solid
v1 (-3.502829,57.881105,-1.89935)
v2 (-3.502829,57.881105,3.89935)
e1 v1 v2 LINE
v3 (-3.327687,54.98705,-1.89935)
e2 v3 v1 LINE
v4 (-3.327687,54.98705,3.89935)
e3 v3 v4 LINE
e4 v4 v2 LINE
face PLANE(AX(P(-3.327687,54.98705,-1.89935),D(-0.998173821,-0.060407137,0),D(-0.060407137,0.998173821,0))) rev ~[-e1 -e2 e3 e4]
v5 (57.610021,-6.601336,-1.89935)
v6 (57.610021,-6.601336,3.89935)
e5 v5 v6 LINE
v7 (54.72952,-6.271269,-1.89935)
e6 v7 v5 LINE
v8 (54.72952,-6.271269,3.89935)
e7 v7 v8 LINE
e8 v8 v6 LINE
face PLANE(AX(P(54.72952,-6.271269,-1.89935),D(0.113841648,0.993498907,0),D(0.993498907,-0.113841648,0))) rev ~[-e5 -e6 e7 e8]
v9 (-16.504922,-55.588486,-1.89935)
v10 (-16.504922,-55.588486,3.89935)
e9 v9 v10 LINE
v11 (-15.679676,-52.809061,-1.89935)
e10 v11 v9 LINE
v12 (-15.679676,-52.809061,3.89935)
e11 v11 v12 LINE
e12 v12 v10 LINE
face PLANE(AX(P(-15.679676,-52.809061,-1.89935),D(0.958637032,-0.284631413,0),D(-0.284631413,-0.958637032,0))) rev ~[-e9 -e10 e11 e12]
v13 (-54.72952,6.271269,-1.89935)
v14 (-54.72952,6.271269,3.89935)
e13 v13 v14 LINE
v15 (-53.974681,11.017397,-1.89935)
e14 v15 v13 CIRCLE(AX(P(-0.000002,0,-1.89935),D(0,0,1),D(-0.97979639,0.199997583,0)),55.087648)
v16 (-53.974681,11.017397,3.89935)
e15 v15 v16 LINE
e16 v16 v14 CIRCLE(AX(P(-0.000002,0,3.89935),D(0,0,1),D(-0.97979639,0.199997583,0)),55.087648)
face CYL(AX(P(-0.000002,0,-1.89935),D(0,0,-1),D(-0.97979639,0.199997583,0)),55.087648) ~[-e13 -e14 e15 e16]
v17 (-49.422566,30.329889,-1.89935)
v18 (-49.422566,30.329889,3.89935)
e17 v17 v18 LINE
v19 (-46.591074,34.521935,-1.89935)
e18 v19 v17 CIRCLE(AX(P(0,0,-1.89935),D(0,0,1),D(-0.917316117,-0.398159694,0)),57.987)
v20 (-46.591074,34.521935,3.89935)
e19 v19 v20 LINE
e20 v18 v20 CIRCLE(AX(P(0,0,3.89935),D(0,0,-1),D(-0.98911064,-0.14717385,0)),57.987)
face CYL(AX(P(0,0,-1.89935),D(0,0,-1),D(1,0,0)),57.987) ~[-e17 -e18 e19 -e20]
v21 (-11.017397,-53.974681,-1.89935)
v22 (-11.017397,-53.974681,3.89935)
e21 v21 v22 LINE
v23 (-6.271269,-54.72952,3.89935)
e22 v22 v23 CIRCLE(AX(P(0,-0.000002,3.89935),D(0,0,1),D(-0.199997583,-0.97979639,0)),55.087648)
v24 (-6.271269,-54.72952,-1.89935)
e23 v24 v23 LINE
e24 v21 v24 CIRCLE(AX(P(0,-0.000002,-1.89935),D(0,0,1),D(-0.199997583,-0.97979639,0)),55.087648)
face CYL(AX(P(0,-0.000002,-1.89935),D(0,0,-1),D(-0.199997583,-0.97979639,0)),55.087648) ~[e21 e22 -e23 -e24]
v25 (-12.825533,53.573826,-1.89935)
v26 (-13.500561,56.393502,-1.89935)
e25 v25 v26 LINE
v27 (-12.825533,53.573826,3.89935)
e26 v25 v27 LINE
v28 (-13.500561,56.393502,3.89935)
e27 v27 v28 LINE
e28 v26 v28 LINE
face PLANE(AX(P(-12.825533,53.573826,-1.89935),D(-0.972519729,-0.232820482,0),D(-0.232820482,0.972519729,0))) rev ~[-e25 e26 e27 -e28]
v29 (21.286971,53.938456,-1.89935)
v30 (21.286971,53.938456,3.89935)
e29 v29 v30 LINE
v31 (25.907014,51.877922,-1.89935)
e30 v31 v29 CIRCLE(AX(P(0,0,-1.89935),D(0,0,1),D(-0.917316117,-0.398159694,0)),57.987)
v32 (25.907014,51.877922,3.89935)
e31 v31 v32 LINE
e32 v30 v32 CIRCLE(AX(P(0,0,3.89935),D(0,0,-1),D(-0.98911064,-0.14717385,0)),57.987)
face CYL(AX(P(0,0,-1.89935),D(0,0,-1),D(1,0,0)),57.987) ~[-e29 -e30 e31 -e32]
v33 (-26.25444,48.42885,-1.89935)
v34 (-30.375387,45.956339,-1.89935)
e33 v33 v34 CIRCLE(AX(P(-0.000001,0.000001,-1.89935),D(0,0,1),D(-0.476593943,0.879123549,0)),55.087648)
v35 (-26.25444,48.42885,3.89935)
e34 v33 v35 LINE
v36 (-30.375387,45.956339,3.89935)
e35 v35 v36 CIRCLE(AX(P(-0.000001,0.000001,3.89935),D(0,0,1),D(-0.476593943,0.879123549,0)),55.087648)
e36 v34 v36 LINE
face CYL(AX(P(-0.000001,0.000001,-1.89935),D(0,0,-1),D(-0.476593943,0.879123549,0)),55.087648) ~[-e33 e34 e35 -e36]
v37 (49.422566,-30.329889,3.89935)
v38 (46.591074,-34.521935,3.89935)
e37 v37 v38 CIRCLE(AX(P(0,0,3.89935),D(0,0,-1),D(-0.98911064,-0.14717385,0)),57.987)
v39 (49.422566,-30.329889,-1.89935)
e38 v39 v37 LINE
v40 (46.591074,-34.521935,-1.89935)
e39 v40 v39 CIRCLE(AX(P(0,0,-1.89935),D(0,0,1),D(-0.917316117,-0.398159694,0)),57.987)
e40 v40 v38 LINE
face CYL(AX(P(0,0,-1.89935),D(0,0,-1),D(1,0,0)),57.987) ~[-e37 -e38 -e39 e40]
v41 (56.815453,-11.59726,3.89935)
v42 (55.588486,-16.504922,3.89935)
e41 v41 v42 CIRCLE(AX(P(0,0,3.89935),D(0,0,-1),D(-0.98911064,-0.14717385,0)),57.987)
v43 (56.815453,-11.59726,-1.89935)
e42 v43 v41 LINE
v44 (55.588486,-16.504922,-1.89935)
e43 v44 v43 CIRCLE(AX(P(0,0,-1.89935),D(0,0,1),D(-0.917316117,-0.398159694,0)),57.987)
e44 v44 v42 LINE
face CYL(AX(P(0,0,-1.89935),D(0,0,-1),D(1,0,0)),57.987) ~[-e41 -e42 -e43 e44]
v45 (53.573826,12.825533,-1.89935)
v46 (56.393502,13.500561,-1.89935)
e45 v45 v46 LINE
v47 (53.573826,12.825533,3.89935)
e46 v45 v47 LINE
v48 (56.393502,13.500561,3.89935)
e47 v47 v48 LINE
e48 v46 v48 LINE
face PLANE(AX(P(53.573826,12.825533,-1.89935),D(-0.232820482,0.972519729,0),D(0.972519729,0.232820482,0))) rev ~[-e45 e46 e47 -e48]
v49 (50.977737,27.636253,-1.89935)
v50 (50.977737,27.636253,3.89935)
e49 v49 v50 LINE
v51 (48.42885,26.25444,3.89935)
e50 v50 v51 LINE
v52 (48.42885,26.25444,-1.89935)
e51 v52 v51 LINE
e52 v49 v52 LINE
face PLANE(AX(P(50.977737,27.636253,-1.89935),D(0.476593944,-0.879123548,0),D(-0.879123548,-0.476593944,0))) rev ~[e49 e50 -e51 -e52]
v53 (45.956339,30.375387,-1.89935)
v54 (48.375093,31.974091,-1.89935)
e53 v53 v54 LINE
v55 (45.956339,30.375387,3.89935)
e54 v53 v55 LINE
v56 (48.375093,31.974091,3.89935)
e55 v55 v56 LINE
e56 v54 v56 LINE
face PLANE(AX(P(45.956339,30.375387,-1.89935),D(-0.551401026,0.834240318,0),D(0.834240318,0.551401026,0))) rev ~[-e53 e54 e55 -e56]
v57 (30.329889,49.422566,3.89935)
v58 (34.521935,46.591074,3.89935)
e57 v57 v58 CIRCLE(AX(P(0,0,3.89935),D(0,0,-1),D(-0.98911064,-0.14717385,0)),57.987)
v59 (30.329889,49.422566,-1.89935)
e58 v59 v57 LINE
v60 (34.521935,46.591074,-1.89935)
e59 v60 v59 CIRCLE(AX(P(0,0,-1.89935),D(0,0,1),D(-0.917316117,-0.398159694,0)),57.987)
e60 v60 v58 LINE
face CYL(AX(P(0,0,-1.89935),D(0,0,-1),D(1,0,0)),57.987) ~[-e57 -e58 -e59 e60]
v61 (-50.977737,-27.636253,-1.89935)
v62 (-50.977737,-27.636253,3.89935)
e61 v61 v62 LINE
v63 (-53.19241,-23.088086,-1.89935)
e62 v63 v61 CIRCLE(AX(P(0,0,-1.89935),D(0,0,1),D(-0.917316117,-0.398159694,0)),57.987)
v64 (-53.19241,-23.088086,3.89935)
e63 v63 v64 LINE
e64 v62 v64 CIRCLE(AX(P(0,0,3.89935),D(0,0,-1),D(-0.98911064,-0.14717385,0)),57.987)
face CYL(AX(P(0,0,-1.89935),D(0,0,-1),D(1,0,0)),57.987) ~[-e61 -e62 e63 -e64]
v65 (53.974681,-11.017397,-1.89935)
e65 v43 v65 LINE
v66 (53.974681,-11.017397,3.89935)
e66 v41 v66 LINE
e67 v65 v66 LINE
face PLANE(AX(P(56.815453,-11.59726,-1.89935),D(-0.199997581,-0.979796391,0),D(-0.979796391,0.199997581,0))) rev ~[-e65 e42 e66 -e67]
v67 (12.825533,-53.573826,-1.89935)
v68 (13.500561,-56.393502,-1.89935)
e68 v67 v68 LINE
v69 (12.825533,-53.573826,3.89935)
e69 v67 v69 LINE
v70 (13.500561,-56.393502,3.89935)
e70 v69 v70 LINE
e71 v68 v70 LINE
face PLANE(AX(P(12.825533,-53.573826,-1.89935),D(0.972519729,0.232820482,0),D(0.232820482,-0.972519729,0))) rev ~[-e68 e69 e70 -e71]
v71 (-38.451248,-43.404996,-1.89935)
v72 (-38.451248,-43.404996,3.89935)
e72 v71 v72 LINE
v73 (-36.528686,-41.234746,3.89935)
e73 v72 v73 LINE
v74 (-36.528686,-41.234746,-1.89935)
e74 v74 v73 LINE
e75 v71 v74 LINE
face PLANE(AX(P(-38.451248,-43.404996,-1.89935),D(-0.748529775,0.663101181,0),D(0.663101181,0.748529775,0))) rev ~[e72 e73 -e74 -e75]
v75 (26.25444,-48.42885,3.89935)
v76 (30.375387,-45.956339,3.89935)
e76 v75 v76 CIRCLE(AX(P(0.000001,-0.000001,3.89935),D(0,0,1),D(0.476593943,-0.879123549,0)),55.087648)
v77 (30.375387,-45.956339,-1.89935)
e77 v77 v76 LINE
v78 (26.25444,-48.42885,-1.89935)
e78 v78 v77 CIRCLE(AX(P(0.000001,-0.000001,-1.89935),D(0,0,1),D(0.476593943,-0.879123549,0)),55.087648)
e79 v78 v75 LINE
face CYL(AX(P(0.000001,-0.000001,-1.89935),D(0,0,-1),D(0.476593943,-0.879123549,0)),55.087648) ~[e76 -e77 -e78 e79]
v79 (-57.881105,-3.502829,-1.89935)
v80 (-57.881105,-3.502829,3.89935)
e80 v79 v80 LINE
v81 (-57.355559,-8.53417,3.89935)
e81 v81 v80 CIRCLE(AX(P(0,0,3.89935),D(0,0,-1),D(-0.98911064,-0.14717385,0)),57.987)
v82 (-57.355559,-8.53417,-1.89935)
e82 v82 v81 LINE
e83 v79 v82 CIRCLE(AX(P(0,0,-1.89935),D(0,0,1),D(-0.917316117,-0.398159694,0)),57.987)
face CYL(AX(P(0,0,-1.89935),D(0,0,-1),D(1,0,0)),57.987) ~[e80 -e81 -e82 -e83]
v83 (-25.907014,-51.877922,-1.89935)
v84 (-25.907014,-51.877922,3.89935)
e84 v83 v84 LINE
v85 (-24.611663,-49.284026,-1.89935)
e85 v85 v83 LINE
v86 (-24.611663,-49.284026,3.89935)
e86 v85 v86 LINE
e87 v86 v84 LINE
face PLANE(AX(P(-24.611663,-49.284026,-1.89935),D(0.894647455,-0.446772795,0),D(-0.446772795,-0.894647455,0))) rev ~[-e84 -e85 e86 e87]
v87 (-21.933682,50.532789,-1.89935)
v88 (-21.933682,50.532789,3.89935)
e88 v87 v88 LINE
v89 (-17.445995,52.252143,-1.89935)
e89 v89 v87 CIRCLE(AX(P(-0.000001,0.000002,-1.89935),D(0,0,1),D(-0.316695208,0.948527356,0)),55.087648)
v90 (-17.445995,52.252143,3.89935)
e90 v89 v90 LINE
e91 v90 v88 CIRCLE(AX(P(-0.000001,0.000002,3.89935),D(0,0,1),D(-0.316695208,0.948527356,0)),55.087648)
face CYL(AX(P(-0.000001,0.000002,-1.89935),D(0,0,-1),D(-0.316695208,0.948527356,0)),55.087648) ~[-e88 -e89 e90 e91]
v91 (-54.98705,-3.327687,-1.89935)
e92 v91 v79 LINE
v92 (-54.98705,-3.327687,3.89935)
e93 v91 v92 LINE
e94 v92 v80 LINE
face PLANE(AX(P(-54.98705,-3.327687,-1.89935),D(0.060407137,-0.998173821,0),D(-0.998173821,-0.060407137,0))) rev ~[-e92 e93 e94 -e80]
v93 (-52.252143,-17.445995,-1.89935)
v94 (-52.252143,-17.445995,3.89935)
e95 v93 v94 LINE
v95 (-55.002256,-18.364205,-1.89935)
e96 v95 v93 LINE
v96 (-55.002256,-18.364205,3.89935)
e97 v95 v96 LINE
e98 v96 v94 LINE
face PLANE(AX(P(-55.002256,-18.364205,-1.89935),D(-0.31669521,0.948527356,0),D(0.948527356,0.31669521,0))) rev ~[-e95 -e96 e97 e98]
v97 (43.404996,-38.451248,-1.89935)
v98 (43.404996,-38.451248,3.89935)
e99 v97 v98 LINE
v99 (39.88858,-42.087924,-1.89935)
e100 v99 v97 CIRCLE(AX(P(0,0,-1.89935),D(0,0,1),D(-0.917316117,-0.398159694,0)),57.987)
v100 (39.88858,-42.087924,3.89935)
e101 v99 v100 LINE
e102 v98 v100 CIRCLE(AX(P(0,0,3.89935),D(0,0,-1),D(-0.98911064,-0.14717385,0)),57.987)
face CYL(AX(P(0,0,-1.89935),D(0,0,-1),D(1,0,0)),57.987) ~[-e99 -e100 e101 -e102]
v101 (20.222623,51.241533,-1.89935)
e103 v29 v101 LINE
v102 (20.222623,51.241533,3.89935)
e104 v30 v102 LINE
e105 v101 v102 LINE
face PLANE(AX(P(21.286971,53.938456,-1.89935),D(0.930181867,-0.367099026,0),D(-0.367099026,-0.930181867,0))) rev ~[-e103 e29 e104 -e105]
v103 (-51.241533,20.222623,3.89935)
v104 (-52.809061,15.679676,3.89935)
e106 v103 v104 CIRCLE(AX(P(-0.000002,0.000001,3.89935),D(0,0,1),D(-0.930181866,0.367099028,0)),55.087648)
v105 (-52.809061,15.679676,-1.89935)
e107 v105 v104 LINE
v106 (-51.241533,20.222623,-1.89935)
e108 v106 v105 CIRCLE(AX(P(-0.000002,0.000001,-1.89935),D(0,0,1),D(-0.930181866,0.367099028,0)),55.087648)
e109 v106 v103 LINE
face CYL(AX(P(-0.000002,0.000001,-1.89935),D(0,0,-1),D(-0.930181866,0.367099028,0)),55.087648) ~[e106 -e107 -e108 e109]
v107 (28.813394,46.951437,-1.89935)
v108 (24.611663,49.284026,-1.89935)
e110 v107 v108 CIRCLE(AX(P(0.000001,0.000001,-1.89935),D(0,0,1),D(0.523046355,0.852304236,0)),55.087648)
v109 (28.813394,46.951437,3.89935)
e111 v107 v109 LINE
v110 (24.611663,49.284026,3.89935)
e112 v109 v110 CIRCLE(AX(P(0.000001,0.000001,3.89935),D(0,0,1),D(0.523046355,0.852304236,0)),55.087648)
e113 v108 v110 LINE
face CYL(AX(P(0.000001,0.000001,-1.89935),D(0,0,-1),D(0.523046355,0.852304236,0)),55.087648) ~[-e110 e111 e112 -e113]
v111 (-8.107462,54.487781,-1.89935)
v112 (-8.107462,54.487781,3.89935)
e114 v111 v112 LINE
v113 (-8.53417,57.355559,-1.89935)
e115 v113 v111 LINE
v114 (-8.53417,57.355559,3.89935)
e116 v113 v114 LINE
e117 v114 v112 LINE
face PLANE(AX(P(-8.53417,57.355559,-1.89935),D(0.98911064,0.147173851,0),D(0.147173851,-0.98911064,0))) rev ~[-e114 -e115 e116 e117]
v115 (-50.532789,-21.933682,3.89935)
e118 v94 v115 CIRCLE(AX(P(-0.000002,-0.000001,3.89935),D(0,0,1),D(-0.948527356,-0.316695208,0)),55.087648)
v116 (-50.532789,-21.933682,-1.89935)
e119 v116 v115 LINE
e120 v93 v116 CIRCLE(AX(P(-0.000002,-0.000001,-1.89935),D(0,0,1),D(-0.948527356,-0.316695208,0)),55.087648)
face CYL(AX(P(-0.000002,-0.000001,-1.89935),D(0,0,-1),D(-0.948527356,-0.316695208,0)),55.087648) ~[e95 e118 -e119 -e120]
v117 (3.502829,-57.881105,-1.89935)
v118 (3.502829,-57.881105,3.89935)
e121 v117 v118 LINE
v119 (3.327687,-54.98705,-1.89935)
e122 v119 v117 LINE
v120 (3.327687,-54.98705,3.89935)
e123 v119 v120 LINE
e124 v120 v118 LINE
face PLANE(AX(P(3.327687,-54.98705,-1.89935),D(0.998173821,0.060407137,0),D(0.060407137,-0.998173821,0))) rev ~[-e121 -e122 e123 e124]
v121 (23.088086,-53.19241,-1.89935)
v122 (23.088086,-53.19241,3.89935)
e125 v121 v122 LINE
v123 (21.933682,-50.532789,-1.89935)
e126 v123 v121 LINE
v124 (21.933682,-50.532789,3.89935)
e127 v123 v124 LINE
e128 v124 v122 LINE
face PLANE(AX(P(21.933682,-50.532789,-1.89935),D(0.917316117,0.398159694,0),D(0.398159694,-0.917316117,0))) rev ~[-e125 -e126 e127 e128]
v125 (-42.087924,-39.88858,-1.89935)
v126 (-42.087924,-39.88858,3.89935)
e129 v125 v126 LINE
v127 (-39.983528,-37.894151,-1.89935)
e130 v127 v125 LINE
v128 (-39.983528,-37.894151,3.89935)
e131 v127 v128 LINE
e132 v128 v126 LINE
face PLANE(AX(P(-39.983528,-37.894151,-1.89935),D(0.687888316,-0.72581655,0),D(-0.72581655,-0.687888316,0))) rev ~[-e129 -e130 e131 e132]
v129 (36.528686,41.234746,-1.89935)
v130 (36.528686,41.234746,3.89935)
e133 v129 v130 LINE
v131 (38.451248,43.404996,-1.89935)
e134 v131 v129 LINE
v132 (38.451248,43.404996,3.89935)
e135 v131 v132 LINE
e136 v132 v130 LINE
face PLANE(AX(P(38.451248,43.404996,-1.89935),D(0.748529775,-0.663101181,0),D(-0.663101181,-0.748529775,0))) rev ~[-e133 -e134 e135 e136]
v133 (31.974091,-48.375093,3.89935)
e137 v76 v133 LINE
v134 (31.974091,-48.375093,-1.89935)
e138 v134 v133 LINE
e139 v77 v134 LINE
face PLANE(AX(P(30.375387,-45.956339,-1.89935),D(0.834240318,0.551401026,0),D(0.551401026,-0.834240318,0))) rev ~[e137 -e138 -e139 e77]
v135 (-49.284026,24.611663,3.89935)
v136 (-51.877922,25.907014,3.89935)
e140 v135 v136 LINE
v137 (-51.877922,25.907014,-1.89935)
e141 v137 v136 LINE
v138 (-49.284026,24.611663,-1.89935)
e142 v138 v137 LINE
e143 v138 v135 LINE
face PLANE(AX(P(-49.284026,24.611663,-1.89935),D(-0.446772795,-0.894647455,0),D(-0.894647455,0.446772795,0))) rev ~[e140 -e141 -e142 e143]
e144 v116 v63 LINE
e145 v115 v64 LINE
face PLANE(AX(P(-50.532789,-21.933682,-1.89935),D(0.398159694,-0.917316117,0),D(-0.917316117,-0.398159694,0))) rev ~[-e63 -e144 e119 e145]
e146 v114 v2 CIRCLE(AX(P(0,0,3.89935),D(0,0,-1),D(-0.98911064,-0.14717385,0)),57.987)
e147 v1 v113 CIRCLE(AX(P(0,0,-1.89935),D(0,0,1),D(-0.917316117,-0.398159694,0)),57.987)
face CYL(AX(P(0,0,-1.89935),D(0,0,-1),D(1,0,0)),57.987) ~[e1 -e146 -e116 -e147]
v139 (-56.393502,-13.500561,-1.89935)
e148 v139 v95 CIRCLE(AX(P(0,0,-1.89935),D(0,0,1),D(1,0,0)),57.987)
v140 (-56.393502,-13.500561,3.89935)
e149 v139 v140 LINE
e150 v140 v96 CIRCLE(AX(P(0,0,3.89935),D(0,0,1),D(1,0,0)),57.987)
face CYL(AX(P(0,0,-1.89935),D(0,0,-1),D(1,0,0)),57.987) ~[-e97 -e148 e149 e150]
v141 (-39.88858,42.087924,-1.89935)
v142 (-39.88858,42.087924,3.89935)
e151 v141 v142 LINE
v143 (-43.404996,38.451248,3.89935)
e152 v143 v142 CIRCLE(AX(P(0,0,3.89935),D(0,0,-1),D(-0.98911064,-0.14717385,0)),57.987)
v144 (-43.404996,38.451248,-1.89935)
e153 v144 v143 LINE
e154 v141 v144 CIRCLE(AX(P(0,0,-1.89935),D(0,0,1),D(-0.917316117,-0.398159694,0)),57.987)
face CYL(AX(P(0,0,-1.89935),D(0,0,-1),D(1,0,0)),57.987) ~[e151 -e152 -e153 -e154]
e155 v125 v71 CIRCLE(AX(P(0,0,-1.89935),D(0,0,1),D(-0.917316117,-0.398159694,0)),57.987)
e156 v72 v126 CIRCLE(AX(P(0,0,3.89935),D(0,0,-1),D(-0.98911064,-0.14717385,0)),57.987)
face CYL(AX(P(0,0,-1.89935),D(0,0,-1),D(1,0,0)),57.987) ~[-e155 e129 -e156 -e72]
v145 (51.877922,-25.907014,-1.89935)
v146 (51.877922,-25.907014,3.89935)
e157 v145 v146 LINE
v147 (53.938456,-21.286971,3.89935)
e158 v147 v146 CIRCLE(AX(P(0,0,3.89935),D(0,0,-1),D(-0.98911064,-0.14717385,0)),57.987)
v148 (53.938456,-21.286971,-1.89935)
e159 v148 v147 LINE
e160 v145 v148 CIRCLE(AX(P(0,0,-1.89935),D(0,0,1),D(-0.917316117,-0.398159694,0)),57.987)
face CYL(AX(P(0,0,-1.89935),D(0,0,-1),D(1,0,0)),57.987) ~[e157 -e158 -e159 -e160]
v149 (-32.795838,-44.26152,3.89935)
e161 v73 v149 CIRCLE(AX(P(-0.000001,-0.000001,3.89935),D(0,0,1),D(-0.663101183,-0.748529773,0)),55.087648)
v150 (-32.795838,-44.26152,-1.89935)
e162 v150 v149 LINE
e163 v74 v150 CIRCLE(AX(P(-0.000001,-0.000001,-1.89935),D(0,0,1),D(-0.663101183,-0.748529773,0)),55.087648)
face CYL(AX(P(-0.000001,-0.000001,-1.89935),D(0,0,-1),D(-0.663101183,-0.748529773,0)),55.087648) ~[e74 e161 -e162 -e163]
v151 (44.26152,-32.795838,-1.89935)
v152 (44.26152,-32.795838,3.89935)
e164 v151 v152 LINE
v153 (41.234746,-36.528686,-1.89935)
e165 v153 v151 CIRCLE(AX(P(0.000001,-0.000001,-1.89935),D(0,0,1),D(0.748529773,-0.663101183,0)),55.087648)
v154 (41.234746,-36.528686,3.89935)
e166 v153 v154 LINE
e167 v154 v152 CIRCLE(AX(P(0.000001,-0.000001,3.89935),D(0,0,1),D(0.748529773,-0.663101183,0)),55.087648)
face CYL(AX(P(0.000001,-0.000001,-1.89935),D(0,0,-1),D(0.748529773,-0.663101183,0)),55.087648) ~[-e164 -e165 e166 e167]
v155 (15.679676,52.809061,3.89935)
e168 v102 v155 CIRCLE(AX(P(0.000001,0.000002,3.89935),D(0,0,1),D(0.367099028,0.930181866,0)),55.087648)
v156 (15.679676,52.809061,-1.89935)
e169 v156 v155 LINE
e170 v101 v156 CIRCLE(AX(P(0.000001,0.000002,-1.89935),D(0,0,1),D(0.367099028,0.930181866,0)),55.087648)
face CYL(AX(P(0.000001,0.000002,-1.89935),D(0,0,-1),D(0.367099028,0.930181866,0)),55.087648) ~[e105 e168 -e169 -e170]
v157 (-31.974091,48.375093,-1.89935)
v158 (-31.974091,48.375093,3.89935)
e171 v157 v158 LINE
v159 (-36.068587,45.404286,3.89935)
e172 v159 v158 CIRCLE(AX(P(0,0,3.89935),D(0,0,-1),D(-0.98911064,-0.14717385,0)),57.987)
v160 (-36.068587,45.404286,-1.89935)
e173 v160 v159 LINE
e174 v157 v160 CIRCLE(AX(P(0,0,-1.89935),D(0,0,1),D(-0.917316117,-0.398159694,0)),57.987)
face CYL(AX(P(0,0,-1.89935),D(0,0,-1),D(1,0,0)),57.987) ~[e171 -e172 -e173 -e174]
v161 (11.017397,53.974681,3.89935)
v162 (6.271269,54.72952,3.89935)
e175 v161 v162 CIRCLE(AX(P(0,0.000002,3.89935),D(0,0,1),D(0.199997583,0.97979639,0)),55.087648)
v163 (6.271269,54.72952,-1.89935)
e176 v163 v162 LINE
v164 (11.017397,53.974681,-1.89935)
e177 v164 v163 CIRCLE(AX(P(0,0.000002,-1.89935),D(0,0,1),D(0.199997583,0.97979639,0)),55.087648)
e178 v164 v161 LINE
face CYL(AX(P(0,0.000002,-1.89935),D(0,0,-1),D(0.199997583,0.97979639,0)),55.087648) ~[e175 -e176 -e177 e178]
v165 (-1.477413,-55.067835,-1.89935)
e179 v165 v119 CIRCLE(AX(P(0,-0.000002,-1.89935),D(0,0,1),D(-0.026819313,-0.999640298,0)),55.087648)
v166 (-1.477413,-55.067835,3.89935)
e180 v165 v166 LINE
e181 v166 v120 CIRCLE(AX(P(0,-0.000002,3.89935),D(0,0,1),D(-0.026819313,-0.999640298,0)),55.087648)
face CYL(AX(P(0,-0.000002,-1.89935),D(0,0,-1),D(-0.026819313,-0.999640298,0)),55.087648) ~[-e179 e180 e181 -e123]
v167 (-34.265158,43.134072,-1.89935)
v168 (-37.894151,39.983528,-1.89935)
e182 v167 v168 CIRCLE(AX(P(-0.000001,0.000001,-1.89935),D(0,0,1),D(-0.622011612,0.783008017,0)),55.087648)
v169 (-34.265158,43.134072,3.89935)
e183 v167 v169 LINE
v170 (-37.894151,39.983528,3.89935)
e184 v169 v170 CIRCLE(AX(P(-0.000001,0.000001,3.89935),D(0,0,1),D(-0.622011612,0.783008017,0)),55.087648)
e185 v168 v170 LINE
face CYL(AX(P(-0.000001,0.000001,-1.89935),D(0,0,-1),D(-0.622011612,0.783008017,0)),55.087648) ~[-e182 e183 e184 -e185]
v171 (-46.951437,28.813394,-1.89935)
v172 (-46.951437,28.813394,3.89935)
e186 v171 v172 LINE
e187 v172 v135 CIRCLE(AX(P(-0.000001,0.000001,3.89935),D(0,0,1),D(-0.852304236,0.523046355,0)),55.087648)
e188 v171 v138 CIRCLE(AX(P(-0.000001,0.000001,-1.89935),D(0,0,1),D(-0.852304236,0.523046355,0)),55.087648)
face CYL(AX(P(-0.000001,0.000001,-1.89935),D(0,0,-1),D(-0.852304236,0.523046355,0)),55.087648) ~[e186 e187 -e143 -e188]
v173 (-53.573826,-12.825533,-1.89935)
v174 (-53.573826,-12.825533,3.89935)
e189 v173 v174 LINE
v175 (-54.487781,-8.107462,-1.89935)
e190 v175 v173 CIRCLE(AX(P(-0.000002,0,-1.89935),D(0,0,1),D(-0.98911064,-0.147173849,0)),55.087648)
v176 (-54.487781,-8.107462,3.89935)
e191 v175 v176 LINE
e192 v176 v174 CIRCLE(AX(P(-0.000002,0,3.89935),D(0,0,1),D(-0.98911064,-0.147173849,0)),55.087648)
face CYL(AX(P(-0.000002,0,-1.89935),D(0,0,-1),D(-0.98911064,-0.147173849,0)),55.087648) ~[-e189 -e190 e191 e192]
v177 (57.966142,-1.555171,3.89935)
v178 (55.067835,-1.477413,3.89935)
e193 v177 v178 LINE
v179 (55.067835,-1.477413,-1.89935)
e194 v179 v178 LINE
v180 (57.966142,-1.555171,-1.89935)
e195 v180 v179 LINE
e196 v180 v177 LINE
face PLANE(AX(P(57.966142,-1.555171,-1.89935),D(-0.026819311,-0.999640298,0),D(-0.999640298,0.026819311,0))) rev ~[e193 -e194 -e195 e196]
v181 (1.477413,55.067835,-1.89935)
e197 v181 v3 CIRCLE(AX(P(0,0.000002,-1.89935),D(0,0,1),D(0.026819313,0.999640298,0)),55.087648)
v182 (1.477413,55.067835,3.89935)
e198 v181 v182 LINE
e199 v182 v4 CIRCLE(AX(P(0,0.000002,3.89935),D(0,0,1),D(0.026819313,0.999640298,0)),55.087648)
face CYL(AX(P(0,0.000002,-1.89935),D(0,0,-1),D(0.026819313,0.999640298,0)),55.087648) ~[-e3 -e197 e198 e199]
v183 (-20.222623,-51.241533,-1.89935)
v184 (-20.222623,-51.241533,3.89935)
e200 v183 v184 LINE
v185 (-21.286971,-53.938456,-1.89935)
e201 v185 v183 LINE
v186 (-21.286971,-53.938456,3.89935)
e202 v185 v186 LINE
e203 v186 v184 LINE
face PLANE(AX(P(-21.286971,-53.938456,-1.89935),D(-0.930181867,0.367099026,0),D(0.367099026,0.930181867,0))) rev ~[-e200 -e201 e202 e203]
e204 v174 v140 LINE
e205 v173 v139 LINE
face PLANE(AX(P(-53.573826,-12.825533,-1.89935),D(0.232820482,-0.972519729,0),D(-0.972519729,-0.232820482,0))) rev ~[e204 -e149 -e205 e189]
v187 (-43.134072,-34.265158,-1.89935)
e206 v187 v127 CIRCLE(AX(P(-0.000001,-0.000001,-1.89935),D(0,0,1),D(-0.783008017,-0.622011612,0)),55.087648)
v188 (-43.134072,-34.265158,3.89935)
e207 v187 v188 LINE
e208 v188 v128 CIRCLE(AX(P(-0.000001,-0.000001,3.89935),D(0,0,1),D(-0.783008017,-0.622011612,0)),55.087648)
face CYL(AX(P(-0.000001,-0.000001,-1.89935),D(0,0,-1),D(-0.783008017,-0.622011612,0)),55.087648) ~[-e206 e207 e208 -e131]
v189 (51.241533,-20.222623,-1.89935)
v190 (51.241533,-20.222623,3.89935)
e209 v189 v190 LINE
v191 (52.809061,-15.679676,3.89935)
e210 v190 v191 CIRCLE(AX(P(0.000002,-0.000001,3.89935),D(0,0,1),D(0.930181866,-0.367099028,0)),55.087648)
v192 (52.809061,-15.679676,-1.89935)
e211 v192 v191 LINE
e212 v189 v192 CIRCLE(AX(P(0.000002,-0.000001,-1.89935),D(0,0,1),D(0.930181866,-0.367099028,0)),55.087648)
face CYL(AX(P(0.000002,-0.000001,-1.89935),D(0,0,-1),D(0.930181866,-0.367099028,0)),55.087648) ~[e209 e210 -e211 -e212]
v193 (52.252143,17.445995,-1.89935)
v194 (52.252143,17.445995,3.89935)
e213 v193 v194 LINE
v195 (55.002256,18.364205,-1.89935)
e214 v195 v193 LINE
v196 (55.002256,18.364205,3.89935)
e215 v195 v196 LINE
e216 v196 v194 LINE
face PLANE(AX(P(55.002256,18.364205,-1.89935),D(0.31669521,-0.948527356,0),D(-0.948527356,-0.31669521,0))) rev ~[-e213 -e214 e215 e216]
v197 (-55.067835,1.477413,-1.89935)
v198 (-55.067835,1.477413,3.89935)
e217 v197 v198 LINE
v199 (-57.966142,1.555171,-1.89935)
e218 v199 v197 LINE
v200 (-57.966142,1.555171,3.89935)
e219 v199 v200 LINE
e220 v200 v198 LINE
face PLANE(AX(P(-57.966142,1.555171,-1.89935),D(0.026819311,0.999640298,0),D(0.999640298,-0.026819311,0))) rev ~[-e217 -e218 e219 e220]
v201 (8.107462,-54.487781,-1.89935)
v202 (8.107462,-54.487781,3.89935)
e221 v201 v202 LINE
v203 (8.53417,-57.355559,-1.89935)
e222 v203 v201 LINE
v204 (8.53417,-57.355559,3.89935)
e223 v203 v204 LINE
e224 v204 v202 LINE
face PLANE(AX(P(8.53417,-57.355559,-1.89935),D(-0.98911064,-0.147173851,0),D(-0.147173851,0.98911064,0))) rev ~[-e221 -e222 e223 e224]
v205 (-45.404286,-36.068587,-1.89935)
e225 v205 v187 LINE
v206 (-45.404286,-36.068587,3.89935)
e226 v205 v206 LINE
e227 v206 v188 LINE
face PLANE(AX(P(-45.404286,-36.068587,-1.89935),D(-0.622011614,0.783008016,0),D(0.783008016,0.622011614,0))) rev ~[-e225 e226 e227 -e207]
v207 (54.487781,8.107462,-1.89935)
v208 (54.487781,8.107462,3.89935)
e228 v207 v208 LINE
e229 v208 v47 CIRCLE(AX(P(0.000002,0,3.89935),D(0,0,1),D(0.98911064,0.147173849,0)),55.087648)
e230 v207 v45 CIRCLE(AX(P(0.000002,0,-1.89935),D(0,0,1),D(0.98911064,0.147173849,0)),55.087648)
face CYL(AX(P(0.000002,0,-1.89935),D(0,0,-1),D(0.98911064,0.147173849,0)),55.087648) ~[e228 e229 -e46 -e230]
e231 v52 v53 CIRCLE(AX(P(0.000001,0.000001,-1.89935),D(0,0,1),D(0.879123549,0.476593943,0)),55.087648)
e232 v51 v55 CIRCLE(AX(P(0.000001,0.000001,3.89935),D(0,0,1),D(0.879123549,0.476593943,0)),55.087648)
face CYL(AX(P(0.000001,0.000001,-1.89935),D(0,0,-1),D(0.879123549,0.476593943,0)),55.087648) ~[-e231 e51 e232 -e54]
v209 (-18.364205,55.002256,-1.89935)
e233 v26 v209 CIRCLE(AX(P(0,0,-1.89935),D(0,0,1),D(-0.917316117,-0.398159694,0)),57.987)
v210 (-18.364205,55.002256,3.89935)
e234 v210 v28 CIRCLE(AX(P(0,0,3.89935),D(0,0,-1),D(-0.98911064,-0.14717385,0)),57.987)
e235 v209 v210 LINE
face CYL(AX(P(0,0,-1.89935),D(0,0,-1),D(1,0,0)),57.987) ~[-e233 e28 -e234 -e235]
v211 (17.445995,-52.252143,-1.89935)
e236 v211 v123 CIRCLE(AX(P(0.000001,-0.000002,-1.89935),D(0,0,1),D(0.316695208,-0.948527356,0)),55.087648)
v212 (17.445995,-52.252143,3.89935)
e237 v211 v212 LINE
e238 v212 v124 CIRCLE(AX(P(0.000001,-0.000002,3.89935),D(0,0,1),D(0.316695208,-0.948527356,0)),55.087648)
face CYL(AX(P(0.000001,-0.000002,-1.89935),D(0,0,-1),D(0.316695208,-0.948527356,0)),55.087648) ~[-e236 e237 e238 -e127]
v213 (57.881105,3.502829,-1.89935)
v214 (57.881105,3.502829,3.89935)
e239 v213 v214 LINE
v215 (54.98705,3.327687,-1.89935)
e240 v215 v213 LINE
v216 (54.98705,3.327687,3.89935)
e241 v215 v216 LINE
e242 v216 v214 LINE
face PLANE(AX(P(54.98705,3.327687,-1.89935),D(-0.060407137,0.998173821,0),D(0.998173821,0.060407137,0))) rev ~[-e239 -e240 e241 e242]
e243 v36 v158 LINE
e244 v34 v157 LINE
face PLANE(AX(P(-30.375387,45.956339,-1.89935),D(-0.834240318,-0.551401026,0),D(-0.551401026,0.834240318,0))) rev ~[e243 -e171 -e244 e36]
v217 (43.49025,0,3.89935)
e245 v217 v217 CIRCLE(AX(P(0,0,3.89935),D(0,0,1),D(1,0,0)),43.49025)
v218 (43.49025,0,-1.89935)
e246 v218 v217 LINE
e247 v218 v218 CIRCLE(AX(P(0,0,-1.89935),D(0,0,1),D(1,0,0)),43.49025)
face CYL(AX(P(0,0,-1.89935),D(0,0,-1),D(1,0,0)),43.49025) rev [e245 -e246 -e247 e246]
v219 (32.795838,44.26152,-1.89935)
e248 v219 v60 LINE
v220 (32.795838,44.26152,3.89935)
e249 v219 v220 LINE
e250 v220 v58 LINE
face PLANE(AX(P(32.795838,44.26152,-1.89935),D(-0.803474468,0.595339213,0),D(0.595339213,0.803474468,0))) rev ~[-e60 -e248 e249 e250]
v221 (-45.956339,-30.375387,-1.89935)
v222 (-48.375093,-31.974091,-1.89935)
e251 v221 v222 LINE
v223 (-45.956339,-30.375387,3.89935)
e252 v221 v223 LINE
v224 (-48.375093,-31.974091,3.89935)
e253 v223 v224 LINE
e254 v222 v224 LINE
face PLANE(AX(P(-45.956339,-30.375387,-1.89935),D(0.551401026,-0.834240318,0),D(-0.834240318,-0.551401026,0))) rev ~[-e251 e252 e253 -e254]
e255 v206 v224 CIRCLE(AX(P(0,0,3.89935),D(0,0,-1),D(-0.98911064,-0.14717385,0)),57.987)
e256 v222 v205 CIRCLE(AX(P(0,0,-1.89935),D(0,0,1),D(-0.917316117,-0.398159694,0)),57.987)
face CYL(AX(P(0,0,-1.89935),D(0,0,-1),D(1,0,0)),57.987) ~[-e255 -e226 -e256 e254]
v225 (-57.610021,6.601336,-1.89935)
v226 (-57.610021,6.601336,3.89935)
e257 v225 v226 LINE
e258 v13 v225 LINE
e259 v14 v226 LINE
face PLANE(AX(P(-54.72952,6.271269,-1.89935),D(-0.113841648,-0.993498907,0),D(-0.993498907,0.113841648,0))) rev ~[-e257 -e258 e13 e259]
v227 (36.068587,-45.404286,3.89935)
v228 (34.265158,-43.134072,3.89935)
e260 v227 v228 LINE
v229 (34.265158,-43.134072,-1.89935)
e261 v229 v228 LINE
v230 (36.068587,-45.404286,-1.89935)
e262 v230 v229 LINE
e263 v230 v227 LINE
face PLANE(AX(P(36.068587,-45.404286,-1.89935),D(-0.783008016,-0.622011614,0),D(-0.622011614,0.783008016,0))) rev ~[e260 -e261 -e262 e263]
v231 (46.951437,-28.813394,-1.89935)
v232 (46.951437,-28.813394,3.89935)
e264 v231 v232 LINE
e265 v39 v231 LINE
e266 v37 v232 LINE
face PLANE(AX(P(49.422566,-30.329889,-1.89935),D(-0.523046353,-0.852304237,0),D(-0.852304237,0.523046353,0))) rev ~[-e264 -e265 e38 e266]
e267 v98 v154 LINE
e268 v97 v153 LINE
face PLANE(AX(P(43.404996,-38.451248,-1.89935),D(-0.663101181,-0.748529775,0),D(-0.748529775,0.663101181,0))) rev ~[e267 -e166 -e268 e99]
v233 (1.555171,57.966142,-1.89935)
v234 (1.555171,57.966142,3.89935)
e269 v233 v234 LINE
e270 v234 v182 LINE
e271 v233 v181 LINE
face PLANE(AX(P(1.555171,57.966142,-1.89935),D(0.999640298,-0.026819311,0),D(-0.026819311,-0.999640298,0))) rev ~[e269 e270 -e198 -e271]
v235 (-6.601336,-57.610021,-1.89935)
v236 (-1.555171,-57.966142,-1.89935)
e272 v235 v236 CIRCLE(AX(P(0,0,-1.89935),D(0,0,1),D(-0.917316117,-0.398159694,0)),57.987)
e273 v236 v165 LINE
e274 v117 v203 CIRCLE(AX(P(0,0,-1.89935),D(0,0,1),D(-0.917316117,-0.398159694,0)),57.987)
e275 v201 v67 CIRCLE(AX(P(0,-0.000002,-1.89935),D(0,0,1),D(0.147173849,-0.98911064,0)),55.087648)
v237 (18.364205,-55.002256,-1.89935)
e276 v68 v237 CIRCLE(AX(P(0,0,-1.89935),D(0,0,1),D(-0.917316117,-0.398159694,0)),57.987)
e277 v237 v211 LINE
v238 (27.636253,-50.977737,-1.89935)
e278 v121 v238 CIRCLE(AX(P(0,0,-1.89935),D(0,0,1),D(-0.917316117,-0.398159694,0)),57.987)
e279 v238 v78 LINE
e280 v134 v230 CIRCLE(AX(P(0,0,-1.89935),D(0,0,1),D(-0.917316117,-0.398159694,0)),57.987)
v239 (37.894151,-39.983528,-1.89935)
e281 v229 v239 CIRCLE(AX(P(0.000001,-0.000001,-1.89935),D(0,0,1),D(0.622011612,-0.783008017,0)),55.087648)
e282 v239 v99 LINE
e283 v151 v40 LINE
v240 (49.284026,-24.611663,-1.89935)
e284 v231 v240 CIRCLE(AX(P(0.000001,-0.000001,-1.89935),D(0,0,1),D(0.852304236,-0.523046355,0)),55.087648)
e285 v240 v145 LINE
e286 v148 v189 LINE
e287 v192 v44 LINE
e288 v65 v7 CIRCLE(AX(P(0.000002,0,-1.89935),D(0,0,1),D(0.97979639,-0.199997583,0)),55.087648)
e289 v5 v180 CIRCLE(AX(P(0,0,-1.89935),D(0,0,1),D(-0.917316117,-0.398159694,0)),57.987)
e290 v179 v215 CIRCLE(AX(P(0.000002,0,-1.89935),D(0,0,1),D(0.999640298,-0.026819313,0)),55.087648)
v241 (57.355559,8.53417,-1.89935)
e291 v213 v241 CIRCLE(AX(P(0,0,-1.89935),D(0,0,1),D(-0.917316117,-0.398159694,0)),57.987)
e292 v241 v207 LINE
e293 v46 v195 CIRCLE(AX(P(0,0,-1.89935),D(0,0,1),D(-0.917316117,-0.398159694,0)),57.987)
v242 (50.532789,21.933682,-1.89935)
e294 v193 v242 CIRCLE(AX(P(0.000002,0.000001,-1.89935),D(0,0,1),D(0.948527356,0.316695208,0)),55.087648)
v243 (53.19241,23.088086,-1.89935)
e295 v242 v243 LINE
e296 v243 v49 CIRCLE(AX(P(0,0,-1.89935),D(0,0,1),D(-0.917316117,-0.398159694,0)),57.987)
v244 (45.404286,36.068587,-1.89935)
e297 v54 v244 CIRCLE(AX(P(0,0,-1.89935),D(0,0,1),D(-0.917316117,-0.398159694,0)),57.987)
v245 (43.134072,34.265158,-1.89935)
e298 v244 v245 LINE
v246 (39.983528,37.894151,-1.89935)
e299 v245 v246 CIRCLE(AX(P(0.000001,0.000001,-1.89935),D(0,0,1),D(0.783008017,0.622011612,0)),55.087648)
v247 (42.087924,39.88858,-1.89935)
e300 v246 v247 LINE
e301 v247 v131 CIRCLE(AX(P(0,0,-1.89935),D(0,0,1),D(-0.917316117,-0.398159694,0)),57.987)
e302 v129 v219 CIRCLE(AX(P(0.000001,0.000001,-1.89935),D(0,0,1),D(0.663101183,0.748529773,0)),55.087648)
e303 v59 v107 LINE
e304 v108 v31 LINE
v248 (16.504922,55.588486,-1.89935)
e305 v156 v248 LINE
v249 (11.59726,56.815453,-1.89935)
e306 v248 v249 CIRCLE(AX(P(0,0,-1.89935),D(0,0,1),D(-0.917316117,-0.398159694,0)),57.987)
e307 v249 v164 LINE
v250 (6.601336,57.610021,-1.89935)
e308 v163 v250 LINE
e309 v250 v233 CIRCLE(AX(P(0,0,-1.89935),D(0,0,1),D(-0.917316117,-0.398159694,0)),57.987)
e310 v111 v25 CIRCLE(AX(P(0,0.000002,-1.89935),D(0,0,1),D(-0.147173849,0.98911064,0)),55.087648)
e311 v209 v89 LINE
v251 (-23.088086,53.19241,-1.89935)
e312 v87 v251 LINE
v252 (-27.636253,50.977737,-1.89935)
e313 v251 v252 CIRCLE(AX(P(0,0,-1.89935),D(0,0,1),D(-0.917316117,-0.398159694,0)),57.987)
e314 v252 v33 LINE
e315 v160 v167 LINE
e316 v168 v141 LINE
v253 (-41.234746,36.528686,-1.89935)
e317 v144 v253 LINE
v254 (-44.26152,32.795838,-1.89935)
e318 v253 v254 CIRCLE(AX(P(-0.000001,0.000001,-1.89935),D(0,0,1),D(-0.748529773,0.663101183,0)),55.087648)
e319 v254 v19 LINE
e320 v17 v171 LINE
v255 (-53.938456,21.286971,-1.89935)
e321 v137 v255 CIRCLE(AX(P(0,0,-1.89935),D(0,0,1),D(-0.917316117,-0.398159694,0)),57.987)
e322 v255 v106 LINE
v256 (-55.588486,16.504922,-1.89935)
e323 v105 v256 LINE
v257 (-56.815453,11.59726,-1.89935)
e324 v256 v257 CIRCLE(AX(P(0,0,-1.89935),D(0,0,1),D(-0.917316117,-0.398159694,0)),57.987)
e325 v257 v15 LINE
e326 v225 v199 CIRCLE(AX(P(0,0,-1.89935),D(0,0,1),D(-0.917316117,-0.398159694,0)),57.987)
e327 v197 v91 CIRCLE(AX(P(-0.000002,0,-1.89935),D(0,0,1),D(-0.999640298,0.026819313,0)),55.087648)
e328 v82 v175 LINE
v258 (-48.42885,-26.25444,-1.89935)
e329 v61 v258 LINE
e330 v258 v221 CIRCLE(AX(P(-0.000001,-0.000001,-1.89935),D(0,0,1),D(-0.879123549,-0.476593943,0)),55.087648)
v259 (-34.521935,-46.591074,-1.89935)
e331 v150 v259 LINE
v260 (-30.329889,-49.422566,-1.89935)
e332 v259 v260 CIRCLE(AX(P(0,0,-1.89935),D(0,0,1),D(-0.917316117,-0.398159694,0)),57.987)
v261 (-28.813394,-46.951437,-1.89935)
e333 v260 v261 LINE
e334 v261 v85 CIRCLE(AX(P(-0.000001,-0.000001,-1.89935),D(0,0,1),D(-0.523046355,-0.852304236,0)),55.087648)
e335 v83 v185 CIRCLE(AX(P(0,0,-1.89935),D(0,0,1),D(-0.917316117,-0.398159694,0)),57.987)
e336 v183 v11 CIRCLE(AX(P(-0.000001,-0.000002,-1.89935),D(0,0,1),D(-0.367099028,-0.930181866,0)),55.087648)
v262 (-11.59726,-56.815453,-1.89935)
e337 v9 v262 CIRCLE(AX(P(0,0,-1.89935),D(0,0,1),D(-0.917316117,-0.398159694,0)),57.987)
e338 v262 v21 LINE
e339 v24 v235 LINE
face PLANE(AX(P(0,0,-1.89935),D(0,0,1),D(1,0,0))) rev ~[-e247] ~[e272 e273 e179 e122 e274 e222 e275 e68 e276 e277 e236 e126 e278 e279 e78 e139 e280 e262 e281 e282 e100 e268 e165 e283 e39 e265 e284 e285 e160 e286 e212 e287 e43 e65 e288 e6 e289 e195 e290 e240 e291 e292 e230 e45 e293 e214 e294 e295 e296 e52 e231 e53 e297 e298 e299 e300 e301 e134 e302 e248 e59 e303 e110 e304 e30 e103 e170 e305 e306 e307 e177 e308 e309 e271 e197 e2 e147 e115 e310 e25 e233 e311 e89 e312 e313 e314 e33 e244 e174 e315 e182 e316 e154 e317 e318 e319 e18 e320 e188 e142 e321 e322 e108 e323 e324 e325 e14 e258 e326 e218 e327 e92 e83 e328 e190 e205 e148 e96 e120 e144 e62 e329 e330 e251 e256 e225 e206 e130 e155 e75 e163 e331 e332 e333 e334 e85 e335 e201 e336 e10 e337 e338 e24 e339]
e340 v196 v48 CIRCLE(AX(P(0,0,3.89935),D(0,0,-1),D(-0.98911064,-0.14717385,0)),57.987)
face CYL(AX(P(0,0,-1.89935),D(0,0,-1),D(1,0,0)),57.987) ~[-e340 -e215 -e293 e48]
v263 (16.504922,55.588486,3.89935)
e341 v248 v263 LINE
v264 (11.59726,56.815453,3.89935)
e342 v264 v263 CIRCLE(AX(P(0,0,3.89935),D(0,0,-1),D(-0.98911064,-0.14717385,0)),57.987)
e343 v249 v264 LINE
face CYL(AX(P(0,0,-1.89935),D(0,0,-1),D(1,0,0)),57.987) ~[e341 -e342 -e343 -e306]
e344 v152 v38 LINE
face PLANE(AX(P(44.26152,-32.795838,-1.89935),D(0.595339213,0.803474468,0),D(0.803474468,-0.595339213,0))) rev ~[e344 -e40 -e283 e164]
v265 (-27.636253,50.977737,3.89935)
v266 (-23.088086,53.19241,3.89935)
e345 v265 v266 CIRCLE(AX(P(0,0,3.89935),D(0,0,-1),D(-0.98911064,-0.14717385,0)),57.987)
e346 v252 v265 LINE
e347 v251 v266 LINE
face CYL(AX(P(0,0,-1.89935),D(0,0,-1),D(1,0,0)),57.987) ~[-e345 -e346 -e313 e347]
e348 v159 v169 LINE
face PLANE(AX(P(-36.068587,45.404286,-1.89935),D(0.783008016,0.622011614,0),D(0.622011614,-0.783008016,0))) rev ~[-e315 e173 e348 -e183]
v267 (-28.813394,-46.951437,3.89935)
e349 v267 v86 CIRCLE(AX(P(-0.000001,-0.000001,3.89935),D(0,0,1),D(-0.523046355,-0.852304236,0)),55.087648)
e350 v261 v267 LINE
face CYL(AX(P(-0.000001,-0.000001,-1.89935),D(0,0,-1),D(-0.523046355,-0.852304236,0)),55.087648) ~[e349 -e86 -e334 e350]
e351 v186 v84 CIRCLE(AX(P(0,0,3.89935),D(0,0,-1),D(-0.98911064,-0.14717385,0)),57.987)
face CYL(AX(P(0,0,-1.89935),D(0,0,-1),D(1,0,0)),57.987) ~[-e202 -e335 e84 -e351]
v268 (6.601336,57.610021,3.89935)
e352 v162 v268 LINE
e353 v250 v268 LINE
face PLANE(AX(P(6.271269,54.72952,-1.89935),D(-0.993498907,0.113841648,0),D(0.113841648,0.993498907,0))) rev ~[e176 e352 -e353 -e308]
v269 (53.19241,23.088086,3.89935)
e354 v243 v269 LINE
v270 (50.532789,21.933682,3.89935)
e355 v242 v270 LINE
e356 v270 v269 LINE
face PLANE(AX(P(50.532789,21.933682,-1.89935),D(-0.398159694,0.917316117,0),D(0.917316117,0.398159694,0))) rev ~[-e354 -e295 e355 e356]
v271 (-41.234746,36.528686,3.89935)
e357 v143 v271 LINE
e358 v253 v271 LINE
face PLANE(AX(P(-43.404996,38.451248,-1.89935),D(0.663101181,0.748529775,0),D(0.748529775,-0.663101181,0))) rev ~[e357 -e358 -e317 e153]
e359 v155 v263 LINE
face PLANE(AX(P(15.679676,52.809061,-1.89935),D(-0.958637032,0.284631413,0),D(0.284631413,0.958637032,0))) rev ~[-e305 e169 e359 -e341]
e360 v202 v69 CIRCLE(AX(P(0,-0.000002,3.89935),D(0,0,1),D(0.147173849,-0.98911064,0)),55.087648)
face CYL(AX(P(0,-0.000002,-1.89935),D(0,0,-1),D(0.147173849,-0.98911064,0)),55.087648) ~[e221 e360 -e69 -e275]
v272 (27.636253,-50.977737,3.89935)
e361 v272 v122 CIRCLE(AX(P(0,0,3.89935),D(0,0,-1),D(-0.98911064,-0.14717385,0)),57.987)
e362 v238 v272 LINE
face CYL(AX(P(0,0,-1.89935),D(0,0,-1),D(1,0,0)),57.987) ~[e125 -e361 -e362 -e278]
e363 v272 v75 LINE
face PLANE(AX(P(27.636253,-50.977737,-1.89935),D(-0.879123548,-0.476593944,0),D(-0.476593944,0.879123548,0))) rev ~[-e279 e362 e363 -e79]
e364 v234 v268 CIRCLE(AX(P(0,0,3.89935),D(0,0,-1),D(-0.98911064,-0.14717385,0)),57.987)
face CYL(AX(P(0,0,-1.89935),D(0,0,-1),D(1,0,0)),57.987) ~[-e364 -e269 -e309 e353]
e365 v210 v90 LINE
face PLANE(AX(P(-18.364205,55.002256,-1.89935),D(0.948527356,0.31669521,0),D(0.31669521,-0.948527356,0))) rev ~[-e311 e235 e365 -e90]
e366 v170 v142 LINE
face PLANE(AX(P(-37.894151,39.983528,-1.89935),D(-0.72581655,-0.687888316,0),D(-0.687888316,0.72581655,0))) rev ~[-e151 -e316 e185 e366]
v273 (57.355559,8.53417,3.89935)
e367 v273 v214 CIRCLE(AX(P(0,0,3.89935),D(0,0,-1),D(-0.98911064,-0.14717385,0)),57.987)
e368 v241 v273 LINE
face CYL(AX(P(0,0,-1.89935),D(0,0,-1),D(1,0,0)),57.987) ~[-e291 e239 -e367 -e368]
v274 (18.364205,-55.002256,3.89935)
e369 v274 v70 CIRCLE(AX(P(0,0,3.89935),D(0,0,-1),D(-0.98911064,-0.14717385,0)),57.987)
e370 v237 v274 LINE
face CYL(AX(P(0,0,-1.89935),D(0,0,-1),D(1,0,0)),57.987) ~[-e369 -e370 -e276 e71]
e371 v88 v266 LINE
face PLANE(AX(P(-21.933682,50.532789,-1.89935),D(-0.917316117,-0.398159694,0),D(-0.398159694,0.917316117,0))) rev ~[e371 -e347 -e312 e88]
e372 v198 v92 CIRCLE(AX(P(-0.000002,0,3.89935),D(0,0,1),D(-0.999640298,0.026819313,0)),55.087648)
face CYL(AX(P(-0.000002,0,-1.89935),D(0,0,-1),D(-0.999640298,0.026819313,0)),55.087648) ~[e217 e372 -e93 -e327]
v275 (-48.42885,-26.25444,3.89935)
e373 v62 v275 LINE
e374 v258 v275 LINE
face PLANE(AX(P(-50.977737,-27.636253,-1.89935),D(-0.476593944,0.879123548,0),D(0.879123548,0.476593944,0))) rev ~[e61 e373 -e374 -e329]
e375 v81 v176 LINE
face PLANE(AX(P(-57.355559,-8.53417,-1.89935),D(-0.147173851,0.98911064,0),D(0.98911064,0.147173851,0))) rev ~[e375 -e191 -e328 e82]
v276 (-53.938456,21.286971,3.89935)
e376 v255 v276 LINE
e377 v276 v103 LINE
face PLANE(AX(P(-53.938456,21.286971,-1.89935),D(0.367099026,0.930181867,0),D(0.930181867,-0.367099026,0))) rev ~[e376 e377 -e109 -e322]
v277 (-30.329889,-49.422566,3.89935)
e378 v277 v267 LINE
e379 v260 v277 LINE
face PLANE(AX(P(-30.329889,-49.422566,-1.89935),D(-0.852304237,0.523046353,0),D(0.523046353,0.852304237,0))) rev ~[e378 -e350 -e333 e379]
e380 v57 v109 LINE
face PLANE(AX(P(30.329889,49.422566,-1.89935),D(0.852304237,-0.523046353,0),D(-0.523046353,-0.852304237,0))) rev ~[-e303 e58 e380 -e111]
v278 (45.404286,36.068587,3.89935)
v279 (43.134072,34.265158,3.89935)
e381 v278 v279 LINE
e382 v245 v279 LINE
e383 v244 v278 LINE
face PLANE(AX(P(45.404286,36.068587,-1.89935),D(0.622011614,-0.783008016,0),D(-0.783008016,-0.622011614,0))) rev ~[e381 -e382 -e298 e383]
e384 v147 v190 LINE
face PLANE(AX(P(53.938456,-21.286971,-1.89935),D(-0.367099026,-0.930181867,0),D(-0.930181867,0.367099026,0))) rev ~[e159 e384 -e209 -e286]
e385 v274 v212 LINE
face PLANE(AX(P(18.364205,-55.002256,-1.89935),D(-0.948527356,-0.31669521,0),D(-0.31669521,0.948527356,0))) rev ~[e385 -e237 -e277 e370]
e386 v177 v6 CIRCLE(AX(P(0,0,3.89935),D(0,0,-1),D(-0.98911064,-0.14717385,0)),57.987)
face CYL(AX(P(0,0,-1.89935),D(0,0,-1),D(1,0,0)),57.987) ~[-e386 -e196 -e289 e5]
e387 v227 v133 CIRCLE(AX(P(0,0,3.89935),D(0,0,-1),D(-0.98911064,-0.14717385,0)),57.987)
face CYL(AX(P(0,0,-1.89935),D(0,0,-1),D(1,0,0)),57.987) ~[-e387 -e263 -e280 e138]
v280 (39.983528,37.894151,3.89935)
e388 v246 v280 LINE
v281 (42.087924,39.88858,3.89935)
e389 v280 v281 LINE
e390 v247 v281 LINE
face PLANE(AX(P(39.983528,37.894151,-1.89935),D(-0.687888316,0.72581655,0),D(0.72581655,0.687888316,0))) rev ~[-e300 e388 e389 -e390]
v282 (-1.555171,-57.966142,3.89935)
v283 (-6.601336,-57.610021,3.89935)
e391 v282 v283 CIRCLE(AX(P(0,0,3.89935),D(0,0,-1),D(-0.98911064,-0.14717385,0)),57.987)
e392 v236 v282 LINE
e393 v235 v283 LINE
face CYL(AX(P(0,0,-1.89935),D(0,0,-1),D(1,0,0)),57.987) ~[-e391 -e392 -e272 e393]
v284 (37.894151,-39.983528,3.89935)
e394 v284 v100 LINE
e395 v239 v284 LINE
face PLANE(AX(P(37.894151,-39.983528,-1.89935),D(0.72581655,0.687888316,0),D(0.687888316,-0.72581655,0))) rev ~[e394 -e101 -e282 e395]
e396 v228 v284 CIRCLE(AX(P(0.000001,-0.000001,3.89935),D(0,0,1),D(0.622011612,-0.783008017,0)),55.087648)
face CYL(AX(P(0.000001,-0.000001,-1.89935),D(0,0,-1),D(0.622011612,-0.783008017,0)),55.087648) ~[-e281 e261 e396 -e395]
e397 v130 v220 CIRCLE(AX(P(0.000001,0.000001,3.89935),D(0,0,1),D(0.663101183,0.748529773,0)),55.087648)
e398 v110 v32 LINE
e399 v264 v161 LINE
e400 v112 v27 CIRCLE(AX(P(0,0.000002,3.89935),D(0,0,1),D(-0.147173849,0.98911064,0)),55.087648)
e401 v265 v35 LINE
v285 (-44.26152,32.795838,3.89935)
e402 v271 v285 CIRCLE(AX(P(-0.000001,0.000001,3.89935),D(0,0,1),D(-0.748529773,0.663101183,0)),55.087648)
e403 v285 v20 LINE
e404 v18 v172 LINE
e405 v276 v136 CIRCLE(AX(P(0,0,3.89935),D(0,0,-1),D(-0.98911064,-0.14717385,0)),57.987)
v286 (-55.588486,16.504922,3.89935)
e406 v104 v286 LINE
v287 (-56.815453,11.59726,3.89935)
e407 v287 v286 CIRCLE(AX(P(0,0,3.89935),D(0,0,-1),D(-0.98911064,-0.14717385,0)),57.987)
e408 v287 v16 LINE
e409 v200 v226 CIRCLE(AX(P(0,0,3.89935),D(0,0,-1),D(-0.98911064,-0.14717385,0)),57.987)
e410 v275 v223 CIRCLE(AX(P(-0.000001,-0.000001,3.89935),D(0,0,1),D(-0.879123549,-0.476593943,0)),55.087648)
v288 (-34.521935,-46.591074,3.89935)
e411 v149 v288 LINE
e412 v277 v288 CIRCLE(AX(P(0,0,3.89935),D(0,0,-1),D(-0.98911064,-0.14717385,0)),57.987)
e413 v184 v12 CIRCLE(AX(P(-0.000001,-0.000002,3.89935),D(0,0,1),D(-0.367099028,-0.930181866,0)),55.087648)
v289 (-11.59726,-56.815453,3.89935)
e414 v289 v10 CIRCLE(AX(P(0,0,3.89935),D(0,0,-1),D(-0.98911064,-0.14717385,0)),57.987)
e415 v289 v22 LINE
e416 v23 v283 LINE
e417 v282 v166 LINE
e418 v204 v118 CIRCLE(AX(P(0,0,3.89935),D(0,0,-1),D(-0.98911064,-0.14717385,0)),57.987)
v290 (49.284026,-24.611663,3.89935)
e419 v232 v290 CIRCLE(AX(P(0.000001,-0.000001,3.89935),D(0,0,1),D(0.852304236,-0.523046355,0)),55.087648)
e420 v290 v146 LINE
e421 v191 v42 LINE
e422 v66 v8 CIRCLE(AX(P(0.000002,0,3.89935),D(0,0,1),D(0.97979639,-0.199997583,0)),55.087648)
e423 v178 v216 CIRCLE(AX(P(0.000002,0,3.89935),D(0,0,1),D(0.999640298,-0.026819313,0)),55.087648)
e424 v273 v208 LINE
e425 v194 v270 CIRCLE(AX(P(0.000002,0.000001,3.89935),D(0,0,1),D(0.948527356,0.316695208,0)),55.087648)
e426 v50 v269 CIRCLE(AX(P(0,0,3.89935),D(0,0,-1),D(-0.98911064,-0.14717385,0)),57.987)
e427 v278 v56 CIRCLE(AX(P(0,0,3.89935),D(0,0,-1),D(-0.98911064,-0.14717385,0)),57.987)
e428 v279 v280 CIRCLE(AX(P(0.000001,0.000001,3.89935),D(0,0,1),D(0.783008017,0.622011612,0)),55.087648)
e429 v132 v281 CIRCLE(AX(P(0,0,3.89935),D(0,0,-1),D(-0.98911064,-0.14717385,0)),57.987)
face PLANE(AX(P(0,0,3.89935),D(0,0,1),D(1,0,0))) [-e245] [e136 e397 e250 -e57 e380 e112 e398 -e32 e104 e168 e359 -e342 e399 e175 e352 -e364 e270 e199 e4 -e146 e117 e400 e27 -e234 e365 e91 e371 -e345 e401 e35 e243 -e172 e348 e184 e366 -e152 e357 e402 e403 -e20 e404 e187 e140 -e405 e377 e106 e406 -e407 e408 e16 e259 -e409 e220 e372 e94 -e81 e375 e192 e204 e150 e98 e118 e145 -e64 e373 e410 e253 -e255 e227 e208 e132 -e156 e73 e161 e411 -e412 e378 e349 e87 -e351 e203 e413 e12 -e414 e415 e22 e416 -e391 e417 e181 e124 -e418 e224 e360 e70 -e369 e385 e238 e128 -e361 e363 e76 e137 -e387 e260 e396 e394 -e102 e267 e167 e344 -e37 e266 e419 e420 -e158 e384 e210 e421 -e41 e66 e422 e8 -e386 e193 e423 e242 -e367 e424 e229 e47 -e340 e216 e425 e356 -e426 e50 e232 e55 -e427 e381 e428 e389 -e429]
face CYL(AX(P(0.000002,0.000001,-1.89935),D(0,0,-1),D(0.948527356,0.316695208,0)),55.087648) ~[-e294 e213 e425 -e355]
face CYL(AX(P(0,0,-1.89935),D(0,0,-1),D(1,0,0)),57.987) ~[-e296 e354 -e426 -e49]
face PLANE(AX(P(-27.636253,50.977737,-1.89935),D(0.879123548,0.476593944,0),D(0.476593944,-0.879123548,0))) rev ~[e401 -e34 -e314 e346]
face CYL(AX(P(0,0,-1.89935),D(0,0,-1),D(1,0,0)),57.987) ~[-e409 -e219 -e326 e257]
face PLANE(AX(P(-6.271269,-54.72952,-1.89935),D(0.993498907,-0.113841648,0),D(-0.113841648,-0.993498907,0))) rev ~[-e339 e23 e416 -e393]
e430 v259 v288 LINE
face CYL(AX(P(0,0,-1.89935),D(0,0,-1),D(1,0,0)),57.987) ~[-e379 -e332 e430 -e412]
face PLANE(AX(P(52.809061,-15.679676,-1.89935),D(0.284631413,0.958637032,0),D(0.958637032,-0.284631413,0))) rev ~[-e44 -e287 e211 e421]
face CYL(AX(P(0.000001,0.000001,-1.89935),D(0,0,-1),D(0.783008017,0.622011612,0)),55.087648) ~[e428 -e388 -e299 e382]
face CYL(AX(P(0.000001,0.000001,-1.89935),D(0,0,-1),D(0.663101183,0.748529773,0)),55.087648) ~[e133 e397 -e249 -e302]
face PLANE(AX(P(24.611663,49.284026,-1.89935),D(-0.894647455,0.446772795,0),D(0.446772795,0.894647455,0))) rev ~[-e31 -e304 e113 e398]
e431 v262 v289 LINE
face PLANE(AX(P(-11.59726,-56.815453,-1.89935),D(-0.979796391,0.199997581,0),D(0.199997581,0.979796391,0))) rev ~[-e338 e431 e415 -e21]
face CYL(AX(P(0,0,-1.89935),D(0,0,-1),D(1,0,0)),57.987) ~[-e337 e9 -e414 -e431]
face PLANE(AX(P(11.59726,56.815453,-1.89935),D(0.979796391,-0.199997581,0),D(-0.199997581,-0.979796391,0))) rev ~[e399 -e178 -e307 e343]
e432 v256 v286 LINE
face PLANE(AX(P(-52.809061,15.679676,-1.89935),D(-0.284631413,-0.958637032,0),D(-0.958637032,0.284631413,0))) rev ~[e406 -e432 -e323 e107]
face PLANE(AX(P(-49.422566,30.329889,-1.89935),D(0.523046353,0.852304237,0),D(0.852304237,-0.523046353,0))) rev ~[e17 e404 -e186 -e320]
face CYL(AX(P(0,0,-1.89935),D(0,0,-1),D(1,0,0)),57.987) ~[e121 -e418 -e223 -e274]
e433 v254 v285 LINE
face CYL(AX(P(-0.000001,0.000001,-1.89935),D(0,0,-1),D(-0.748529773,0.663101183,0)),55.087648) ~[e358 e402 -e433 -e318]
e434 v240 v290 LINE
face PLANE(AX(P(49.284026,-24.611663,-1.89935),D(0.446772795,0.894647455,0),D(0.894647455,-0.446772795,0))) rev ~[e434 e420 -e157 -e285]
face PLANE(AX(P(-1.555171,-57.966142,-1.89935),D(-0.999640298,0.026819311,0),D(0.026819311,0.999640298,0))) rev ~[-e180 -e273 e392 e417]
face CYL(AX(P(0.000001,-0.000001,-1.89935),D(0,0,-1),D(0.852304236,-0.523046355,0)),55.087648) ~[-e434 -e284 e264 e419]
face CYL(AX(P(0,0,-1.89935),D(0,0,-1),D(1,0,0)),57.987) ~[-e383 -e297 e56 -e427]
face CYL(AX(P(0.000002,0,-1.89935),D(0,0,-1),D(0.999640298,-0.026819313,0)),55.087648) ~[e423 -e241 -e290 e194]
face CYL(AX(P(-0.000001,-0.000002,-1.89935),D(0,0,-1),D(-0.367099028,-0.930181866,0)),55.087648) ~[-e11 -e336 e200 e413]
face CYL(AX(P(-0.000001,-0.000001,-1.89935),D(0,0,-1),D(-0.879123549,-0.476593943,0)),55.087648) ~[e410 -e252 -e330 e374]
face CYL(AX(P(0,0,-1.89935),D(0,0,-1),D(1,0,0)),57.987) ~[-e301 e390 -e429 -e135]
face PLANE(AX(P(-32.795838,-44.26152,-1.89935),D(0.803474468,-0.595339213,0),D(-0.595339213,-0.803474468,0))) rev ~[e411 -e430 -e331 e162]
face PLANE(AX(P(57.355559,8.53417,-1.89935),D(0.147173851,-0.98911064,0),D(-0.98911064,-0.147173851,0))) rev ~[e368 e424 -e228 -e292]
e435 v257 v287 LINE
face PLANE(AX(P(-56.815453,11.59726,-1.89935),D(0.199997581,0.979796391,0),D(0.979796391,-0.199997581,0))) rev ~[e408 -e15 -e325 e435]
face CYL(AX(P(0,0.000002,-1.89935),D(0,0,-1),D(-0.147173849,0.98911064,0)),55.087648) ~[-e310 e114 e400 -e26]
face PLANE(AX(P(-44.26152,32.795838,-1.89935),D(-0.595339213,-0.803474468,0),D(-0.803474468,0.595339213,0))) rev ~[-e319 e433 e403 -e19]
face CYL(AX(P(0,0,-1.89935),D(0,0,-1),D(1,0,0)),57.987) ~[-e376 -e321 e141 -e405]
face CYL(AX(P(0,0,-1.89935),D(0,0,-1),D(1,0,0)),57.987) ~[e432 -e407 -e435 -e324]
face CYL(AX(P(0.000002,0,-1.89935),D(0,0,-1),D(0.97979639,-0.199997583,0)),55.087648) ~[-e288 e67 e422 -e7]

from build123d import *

# Parameters (mm, degrees)
SKETCH1_R           = 20
SKETCH1_R_2         = 15
BOSS_EXTRUDE1_DEPTH = 2
CUT_EXTRUDE1_START  = -2
CUT_EXTRUDE1_DEPTH  = 2
CIRPATTERN1_COUNT   = 36
SCALE1_SCALE        = 1.9329
SCALE2_SCALE        = 1.5


with BuildPart() as part:
    # Sketch1 → Boss-Extrude1 (new body)
    with BuildSketch(Plane.XY):
        Circle(SKETCH1_R)
        Circle(SKETCH1_R_2, mode=Mode.SUBTRACT)
    extrude(amount=BOSS_EXTRUDE1_DEPTH)

    # Sketch2 → Cut-Extrude1 (cut)
    with BuildSketch(Plane.XY.offset(2).offset(CUT_EXTRUDE1_START)):
        with BuildLine():
            Line((-18.47787485, -4.423589156), (-19.450394579, -4.656409638))
            ThreePointArc((-19.450394579, -4.656409638), (-19.634991849, -3.803563472), (-19.782212796, -2.943477007))
            Line((-19.782212796, -2.943477007), (-18.793102156, -2.796303156))
            ThreePointArc((-18.793102156, -2.796303156), (-18.653242257, -3.613385298), (-18.47787485, -4.423589156))
        make_face()
    cut_extrude1 = extrude(amount=CUT_EXTRUDE1_DEPTH, mode=Mode.SUBTRACT)

    # CirPattern1: Cut-Extrude1 ×36 about axis
    cirpattern1_axis = Axis((0, 0, 0), (0, 0, 1))
    for i in range(1, CIRPATTERN1_COUNT):
        add(cut_extrude1.rotate(cirpattern1_axis, i * 360 / CIRPATTERN1_COUNT), mode=Mode.SUBTRACT)


with BuildPart() as part_1:
    # Scale1: scaled about (0, 0, 1)
    add(part.part.scale(SCALE1_SCALE).moved(Location((0, 0, -0.9329))))


with BuildPart() as part_2:
    # Scale2: scaled about (0, 0, 1)
    add(part_1.part.scale(SCALE2_SCALE).moved(Location((0, 0, -0.5))))


solid = part_2.part
